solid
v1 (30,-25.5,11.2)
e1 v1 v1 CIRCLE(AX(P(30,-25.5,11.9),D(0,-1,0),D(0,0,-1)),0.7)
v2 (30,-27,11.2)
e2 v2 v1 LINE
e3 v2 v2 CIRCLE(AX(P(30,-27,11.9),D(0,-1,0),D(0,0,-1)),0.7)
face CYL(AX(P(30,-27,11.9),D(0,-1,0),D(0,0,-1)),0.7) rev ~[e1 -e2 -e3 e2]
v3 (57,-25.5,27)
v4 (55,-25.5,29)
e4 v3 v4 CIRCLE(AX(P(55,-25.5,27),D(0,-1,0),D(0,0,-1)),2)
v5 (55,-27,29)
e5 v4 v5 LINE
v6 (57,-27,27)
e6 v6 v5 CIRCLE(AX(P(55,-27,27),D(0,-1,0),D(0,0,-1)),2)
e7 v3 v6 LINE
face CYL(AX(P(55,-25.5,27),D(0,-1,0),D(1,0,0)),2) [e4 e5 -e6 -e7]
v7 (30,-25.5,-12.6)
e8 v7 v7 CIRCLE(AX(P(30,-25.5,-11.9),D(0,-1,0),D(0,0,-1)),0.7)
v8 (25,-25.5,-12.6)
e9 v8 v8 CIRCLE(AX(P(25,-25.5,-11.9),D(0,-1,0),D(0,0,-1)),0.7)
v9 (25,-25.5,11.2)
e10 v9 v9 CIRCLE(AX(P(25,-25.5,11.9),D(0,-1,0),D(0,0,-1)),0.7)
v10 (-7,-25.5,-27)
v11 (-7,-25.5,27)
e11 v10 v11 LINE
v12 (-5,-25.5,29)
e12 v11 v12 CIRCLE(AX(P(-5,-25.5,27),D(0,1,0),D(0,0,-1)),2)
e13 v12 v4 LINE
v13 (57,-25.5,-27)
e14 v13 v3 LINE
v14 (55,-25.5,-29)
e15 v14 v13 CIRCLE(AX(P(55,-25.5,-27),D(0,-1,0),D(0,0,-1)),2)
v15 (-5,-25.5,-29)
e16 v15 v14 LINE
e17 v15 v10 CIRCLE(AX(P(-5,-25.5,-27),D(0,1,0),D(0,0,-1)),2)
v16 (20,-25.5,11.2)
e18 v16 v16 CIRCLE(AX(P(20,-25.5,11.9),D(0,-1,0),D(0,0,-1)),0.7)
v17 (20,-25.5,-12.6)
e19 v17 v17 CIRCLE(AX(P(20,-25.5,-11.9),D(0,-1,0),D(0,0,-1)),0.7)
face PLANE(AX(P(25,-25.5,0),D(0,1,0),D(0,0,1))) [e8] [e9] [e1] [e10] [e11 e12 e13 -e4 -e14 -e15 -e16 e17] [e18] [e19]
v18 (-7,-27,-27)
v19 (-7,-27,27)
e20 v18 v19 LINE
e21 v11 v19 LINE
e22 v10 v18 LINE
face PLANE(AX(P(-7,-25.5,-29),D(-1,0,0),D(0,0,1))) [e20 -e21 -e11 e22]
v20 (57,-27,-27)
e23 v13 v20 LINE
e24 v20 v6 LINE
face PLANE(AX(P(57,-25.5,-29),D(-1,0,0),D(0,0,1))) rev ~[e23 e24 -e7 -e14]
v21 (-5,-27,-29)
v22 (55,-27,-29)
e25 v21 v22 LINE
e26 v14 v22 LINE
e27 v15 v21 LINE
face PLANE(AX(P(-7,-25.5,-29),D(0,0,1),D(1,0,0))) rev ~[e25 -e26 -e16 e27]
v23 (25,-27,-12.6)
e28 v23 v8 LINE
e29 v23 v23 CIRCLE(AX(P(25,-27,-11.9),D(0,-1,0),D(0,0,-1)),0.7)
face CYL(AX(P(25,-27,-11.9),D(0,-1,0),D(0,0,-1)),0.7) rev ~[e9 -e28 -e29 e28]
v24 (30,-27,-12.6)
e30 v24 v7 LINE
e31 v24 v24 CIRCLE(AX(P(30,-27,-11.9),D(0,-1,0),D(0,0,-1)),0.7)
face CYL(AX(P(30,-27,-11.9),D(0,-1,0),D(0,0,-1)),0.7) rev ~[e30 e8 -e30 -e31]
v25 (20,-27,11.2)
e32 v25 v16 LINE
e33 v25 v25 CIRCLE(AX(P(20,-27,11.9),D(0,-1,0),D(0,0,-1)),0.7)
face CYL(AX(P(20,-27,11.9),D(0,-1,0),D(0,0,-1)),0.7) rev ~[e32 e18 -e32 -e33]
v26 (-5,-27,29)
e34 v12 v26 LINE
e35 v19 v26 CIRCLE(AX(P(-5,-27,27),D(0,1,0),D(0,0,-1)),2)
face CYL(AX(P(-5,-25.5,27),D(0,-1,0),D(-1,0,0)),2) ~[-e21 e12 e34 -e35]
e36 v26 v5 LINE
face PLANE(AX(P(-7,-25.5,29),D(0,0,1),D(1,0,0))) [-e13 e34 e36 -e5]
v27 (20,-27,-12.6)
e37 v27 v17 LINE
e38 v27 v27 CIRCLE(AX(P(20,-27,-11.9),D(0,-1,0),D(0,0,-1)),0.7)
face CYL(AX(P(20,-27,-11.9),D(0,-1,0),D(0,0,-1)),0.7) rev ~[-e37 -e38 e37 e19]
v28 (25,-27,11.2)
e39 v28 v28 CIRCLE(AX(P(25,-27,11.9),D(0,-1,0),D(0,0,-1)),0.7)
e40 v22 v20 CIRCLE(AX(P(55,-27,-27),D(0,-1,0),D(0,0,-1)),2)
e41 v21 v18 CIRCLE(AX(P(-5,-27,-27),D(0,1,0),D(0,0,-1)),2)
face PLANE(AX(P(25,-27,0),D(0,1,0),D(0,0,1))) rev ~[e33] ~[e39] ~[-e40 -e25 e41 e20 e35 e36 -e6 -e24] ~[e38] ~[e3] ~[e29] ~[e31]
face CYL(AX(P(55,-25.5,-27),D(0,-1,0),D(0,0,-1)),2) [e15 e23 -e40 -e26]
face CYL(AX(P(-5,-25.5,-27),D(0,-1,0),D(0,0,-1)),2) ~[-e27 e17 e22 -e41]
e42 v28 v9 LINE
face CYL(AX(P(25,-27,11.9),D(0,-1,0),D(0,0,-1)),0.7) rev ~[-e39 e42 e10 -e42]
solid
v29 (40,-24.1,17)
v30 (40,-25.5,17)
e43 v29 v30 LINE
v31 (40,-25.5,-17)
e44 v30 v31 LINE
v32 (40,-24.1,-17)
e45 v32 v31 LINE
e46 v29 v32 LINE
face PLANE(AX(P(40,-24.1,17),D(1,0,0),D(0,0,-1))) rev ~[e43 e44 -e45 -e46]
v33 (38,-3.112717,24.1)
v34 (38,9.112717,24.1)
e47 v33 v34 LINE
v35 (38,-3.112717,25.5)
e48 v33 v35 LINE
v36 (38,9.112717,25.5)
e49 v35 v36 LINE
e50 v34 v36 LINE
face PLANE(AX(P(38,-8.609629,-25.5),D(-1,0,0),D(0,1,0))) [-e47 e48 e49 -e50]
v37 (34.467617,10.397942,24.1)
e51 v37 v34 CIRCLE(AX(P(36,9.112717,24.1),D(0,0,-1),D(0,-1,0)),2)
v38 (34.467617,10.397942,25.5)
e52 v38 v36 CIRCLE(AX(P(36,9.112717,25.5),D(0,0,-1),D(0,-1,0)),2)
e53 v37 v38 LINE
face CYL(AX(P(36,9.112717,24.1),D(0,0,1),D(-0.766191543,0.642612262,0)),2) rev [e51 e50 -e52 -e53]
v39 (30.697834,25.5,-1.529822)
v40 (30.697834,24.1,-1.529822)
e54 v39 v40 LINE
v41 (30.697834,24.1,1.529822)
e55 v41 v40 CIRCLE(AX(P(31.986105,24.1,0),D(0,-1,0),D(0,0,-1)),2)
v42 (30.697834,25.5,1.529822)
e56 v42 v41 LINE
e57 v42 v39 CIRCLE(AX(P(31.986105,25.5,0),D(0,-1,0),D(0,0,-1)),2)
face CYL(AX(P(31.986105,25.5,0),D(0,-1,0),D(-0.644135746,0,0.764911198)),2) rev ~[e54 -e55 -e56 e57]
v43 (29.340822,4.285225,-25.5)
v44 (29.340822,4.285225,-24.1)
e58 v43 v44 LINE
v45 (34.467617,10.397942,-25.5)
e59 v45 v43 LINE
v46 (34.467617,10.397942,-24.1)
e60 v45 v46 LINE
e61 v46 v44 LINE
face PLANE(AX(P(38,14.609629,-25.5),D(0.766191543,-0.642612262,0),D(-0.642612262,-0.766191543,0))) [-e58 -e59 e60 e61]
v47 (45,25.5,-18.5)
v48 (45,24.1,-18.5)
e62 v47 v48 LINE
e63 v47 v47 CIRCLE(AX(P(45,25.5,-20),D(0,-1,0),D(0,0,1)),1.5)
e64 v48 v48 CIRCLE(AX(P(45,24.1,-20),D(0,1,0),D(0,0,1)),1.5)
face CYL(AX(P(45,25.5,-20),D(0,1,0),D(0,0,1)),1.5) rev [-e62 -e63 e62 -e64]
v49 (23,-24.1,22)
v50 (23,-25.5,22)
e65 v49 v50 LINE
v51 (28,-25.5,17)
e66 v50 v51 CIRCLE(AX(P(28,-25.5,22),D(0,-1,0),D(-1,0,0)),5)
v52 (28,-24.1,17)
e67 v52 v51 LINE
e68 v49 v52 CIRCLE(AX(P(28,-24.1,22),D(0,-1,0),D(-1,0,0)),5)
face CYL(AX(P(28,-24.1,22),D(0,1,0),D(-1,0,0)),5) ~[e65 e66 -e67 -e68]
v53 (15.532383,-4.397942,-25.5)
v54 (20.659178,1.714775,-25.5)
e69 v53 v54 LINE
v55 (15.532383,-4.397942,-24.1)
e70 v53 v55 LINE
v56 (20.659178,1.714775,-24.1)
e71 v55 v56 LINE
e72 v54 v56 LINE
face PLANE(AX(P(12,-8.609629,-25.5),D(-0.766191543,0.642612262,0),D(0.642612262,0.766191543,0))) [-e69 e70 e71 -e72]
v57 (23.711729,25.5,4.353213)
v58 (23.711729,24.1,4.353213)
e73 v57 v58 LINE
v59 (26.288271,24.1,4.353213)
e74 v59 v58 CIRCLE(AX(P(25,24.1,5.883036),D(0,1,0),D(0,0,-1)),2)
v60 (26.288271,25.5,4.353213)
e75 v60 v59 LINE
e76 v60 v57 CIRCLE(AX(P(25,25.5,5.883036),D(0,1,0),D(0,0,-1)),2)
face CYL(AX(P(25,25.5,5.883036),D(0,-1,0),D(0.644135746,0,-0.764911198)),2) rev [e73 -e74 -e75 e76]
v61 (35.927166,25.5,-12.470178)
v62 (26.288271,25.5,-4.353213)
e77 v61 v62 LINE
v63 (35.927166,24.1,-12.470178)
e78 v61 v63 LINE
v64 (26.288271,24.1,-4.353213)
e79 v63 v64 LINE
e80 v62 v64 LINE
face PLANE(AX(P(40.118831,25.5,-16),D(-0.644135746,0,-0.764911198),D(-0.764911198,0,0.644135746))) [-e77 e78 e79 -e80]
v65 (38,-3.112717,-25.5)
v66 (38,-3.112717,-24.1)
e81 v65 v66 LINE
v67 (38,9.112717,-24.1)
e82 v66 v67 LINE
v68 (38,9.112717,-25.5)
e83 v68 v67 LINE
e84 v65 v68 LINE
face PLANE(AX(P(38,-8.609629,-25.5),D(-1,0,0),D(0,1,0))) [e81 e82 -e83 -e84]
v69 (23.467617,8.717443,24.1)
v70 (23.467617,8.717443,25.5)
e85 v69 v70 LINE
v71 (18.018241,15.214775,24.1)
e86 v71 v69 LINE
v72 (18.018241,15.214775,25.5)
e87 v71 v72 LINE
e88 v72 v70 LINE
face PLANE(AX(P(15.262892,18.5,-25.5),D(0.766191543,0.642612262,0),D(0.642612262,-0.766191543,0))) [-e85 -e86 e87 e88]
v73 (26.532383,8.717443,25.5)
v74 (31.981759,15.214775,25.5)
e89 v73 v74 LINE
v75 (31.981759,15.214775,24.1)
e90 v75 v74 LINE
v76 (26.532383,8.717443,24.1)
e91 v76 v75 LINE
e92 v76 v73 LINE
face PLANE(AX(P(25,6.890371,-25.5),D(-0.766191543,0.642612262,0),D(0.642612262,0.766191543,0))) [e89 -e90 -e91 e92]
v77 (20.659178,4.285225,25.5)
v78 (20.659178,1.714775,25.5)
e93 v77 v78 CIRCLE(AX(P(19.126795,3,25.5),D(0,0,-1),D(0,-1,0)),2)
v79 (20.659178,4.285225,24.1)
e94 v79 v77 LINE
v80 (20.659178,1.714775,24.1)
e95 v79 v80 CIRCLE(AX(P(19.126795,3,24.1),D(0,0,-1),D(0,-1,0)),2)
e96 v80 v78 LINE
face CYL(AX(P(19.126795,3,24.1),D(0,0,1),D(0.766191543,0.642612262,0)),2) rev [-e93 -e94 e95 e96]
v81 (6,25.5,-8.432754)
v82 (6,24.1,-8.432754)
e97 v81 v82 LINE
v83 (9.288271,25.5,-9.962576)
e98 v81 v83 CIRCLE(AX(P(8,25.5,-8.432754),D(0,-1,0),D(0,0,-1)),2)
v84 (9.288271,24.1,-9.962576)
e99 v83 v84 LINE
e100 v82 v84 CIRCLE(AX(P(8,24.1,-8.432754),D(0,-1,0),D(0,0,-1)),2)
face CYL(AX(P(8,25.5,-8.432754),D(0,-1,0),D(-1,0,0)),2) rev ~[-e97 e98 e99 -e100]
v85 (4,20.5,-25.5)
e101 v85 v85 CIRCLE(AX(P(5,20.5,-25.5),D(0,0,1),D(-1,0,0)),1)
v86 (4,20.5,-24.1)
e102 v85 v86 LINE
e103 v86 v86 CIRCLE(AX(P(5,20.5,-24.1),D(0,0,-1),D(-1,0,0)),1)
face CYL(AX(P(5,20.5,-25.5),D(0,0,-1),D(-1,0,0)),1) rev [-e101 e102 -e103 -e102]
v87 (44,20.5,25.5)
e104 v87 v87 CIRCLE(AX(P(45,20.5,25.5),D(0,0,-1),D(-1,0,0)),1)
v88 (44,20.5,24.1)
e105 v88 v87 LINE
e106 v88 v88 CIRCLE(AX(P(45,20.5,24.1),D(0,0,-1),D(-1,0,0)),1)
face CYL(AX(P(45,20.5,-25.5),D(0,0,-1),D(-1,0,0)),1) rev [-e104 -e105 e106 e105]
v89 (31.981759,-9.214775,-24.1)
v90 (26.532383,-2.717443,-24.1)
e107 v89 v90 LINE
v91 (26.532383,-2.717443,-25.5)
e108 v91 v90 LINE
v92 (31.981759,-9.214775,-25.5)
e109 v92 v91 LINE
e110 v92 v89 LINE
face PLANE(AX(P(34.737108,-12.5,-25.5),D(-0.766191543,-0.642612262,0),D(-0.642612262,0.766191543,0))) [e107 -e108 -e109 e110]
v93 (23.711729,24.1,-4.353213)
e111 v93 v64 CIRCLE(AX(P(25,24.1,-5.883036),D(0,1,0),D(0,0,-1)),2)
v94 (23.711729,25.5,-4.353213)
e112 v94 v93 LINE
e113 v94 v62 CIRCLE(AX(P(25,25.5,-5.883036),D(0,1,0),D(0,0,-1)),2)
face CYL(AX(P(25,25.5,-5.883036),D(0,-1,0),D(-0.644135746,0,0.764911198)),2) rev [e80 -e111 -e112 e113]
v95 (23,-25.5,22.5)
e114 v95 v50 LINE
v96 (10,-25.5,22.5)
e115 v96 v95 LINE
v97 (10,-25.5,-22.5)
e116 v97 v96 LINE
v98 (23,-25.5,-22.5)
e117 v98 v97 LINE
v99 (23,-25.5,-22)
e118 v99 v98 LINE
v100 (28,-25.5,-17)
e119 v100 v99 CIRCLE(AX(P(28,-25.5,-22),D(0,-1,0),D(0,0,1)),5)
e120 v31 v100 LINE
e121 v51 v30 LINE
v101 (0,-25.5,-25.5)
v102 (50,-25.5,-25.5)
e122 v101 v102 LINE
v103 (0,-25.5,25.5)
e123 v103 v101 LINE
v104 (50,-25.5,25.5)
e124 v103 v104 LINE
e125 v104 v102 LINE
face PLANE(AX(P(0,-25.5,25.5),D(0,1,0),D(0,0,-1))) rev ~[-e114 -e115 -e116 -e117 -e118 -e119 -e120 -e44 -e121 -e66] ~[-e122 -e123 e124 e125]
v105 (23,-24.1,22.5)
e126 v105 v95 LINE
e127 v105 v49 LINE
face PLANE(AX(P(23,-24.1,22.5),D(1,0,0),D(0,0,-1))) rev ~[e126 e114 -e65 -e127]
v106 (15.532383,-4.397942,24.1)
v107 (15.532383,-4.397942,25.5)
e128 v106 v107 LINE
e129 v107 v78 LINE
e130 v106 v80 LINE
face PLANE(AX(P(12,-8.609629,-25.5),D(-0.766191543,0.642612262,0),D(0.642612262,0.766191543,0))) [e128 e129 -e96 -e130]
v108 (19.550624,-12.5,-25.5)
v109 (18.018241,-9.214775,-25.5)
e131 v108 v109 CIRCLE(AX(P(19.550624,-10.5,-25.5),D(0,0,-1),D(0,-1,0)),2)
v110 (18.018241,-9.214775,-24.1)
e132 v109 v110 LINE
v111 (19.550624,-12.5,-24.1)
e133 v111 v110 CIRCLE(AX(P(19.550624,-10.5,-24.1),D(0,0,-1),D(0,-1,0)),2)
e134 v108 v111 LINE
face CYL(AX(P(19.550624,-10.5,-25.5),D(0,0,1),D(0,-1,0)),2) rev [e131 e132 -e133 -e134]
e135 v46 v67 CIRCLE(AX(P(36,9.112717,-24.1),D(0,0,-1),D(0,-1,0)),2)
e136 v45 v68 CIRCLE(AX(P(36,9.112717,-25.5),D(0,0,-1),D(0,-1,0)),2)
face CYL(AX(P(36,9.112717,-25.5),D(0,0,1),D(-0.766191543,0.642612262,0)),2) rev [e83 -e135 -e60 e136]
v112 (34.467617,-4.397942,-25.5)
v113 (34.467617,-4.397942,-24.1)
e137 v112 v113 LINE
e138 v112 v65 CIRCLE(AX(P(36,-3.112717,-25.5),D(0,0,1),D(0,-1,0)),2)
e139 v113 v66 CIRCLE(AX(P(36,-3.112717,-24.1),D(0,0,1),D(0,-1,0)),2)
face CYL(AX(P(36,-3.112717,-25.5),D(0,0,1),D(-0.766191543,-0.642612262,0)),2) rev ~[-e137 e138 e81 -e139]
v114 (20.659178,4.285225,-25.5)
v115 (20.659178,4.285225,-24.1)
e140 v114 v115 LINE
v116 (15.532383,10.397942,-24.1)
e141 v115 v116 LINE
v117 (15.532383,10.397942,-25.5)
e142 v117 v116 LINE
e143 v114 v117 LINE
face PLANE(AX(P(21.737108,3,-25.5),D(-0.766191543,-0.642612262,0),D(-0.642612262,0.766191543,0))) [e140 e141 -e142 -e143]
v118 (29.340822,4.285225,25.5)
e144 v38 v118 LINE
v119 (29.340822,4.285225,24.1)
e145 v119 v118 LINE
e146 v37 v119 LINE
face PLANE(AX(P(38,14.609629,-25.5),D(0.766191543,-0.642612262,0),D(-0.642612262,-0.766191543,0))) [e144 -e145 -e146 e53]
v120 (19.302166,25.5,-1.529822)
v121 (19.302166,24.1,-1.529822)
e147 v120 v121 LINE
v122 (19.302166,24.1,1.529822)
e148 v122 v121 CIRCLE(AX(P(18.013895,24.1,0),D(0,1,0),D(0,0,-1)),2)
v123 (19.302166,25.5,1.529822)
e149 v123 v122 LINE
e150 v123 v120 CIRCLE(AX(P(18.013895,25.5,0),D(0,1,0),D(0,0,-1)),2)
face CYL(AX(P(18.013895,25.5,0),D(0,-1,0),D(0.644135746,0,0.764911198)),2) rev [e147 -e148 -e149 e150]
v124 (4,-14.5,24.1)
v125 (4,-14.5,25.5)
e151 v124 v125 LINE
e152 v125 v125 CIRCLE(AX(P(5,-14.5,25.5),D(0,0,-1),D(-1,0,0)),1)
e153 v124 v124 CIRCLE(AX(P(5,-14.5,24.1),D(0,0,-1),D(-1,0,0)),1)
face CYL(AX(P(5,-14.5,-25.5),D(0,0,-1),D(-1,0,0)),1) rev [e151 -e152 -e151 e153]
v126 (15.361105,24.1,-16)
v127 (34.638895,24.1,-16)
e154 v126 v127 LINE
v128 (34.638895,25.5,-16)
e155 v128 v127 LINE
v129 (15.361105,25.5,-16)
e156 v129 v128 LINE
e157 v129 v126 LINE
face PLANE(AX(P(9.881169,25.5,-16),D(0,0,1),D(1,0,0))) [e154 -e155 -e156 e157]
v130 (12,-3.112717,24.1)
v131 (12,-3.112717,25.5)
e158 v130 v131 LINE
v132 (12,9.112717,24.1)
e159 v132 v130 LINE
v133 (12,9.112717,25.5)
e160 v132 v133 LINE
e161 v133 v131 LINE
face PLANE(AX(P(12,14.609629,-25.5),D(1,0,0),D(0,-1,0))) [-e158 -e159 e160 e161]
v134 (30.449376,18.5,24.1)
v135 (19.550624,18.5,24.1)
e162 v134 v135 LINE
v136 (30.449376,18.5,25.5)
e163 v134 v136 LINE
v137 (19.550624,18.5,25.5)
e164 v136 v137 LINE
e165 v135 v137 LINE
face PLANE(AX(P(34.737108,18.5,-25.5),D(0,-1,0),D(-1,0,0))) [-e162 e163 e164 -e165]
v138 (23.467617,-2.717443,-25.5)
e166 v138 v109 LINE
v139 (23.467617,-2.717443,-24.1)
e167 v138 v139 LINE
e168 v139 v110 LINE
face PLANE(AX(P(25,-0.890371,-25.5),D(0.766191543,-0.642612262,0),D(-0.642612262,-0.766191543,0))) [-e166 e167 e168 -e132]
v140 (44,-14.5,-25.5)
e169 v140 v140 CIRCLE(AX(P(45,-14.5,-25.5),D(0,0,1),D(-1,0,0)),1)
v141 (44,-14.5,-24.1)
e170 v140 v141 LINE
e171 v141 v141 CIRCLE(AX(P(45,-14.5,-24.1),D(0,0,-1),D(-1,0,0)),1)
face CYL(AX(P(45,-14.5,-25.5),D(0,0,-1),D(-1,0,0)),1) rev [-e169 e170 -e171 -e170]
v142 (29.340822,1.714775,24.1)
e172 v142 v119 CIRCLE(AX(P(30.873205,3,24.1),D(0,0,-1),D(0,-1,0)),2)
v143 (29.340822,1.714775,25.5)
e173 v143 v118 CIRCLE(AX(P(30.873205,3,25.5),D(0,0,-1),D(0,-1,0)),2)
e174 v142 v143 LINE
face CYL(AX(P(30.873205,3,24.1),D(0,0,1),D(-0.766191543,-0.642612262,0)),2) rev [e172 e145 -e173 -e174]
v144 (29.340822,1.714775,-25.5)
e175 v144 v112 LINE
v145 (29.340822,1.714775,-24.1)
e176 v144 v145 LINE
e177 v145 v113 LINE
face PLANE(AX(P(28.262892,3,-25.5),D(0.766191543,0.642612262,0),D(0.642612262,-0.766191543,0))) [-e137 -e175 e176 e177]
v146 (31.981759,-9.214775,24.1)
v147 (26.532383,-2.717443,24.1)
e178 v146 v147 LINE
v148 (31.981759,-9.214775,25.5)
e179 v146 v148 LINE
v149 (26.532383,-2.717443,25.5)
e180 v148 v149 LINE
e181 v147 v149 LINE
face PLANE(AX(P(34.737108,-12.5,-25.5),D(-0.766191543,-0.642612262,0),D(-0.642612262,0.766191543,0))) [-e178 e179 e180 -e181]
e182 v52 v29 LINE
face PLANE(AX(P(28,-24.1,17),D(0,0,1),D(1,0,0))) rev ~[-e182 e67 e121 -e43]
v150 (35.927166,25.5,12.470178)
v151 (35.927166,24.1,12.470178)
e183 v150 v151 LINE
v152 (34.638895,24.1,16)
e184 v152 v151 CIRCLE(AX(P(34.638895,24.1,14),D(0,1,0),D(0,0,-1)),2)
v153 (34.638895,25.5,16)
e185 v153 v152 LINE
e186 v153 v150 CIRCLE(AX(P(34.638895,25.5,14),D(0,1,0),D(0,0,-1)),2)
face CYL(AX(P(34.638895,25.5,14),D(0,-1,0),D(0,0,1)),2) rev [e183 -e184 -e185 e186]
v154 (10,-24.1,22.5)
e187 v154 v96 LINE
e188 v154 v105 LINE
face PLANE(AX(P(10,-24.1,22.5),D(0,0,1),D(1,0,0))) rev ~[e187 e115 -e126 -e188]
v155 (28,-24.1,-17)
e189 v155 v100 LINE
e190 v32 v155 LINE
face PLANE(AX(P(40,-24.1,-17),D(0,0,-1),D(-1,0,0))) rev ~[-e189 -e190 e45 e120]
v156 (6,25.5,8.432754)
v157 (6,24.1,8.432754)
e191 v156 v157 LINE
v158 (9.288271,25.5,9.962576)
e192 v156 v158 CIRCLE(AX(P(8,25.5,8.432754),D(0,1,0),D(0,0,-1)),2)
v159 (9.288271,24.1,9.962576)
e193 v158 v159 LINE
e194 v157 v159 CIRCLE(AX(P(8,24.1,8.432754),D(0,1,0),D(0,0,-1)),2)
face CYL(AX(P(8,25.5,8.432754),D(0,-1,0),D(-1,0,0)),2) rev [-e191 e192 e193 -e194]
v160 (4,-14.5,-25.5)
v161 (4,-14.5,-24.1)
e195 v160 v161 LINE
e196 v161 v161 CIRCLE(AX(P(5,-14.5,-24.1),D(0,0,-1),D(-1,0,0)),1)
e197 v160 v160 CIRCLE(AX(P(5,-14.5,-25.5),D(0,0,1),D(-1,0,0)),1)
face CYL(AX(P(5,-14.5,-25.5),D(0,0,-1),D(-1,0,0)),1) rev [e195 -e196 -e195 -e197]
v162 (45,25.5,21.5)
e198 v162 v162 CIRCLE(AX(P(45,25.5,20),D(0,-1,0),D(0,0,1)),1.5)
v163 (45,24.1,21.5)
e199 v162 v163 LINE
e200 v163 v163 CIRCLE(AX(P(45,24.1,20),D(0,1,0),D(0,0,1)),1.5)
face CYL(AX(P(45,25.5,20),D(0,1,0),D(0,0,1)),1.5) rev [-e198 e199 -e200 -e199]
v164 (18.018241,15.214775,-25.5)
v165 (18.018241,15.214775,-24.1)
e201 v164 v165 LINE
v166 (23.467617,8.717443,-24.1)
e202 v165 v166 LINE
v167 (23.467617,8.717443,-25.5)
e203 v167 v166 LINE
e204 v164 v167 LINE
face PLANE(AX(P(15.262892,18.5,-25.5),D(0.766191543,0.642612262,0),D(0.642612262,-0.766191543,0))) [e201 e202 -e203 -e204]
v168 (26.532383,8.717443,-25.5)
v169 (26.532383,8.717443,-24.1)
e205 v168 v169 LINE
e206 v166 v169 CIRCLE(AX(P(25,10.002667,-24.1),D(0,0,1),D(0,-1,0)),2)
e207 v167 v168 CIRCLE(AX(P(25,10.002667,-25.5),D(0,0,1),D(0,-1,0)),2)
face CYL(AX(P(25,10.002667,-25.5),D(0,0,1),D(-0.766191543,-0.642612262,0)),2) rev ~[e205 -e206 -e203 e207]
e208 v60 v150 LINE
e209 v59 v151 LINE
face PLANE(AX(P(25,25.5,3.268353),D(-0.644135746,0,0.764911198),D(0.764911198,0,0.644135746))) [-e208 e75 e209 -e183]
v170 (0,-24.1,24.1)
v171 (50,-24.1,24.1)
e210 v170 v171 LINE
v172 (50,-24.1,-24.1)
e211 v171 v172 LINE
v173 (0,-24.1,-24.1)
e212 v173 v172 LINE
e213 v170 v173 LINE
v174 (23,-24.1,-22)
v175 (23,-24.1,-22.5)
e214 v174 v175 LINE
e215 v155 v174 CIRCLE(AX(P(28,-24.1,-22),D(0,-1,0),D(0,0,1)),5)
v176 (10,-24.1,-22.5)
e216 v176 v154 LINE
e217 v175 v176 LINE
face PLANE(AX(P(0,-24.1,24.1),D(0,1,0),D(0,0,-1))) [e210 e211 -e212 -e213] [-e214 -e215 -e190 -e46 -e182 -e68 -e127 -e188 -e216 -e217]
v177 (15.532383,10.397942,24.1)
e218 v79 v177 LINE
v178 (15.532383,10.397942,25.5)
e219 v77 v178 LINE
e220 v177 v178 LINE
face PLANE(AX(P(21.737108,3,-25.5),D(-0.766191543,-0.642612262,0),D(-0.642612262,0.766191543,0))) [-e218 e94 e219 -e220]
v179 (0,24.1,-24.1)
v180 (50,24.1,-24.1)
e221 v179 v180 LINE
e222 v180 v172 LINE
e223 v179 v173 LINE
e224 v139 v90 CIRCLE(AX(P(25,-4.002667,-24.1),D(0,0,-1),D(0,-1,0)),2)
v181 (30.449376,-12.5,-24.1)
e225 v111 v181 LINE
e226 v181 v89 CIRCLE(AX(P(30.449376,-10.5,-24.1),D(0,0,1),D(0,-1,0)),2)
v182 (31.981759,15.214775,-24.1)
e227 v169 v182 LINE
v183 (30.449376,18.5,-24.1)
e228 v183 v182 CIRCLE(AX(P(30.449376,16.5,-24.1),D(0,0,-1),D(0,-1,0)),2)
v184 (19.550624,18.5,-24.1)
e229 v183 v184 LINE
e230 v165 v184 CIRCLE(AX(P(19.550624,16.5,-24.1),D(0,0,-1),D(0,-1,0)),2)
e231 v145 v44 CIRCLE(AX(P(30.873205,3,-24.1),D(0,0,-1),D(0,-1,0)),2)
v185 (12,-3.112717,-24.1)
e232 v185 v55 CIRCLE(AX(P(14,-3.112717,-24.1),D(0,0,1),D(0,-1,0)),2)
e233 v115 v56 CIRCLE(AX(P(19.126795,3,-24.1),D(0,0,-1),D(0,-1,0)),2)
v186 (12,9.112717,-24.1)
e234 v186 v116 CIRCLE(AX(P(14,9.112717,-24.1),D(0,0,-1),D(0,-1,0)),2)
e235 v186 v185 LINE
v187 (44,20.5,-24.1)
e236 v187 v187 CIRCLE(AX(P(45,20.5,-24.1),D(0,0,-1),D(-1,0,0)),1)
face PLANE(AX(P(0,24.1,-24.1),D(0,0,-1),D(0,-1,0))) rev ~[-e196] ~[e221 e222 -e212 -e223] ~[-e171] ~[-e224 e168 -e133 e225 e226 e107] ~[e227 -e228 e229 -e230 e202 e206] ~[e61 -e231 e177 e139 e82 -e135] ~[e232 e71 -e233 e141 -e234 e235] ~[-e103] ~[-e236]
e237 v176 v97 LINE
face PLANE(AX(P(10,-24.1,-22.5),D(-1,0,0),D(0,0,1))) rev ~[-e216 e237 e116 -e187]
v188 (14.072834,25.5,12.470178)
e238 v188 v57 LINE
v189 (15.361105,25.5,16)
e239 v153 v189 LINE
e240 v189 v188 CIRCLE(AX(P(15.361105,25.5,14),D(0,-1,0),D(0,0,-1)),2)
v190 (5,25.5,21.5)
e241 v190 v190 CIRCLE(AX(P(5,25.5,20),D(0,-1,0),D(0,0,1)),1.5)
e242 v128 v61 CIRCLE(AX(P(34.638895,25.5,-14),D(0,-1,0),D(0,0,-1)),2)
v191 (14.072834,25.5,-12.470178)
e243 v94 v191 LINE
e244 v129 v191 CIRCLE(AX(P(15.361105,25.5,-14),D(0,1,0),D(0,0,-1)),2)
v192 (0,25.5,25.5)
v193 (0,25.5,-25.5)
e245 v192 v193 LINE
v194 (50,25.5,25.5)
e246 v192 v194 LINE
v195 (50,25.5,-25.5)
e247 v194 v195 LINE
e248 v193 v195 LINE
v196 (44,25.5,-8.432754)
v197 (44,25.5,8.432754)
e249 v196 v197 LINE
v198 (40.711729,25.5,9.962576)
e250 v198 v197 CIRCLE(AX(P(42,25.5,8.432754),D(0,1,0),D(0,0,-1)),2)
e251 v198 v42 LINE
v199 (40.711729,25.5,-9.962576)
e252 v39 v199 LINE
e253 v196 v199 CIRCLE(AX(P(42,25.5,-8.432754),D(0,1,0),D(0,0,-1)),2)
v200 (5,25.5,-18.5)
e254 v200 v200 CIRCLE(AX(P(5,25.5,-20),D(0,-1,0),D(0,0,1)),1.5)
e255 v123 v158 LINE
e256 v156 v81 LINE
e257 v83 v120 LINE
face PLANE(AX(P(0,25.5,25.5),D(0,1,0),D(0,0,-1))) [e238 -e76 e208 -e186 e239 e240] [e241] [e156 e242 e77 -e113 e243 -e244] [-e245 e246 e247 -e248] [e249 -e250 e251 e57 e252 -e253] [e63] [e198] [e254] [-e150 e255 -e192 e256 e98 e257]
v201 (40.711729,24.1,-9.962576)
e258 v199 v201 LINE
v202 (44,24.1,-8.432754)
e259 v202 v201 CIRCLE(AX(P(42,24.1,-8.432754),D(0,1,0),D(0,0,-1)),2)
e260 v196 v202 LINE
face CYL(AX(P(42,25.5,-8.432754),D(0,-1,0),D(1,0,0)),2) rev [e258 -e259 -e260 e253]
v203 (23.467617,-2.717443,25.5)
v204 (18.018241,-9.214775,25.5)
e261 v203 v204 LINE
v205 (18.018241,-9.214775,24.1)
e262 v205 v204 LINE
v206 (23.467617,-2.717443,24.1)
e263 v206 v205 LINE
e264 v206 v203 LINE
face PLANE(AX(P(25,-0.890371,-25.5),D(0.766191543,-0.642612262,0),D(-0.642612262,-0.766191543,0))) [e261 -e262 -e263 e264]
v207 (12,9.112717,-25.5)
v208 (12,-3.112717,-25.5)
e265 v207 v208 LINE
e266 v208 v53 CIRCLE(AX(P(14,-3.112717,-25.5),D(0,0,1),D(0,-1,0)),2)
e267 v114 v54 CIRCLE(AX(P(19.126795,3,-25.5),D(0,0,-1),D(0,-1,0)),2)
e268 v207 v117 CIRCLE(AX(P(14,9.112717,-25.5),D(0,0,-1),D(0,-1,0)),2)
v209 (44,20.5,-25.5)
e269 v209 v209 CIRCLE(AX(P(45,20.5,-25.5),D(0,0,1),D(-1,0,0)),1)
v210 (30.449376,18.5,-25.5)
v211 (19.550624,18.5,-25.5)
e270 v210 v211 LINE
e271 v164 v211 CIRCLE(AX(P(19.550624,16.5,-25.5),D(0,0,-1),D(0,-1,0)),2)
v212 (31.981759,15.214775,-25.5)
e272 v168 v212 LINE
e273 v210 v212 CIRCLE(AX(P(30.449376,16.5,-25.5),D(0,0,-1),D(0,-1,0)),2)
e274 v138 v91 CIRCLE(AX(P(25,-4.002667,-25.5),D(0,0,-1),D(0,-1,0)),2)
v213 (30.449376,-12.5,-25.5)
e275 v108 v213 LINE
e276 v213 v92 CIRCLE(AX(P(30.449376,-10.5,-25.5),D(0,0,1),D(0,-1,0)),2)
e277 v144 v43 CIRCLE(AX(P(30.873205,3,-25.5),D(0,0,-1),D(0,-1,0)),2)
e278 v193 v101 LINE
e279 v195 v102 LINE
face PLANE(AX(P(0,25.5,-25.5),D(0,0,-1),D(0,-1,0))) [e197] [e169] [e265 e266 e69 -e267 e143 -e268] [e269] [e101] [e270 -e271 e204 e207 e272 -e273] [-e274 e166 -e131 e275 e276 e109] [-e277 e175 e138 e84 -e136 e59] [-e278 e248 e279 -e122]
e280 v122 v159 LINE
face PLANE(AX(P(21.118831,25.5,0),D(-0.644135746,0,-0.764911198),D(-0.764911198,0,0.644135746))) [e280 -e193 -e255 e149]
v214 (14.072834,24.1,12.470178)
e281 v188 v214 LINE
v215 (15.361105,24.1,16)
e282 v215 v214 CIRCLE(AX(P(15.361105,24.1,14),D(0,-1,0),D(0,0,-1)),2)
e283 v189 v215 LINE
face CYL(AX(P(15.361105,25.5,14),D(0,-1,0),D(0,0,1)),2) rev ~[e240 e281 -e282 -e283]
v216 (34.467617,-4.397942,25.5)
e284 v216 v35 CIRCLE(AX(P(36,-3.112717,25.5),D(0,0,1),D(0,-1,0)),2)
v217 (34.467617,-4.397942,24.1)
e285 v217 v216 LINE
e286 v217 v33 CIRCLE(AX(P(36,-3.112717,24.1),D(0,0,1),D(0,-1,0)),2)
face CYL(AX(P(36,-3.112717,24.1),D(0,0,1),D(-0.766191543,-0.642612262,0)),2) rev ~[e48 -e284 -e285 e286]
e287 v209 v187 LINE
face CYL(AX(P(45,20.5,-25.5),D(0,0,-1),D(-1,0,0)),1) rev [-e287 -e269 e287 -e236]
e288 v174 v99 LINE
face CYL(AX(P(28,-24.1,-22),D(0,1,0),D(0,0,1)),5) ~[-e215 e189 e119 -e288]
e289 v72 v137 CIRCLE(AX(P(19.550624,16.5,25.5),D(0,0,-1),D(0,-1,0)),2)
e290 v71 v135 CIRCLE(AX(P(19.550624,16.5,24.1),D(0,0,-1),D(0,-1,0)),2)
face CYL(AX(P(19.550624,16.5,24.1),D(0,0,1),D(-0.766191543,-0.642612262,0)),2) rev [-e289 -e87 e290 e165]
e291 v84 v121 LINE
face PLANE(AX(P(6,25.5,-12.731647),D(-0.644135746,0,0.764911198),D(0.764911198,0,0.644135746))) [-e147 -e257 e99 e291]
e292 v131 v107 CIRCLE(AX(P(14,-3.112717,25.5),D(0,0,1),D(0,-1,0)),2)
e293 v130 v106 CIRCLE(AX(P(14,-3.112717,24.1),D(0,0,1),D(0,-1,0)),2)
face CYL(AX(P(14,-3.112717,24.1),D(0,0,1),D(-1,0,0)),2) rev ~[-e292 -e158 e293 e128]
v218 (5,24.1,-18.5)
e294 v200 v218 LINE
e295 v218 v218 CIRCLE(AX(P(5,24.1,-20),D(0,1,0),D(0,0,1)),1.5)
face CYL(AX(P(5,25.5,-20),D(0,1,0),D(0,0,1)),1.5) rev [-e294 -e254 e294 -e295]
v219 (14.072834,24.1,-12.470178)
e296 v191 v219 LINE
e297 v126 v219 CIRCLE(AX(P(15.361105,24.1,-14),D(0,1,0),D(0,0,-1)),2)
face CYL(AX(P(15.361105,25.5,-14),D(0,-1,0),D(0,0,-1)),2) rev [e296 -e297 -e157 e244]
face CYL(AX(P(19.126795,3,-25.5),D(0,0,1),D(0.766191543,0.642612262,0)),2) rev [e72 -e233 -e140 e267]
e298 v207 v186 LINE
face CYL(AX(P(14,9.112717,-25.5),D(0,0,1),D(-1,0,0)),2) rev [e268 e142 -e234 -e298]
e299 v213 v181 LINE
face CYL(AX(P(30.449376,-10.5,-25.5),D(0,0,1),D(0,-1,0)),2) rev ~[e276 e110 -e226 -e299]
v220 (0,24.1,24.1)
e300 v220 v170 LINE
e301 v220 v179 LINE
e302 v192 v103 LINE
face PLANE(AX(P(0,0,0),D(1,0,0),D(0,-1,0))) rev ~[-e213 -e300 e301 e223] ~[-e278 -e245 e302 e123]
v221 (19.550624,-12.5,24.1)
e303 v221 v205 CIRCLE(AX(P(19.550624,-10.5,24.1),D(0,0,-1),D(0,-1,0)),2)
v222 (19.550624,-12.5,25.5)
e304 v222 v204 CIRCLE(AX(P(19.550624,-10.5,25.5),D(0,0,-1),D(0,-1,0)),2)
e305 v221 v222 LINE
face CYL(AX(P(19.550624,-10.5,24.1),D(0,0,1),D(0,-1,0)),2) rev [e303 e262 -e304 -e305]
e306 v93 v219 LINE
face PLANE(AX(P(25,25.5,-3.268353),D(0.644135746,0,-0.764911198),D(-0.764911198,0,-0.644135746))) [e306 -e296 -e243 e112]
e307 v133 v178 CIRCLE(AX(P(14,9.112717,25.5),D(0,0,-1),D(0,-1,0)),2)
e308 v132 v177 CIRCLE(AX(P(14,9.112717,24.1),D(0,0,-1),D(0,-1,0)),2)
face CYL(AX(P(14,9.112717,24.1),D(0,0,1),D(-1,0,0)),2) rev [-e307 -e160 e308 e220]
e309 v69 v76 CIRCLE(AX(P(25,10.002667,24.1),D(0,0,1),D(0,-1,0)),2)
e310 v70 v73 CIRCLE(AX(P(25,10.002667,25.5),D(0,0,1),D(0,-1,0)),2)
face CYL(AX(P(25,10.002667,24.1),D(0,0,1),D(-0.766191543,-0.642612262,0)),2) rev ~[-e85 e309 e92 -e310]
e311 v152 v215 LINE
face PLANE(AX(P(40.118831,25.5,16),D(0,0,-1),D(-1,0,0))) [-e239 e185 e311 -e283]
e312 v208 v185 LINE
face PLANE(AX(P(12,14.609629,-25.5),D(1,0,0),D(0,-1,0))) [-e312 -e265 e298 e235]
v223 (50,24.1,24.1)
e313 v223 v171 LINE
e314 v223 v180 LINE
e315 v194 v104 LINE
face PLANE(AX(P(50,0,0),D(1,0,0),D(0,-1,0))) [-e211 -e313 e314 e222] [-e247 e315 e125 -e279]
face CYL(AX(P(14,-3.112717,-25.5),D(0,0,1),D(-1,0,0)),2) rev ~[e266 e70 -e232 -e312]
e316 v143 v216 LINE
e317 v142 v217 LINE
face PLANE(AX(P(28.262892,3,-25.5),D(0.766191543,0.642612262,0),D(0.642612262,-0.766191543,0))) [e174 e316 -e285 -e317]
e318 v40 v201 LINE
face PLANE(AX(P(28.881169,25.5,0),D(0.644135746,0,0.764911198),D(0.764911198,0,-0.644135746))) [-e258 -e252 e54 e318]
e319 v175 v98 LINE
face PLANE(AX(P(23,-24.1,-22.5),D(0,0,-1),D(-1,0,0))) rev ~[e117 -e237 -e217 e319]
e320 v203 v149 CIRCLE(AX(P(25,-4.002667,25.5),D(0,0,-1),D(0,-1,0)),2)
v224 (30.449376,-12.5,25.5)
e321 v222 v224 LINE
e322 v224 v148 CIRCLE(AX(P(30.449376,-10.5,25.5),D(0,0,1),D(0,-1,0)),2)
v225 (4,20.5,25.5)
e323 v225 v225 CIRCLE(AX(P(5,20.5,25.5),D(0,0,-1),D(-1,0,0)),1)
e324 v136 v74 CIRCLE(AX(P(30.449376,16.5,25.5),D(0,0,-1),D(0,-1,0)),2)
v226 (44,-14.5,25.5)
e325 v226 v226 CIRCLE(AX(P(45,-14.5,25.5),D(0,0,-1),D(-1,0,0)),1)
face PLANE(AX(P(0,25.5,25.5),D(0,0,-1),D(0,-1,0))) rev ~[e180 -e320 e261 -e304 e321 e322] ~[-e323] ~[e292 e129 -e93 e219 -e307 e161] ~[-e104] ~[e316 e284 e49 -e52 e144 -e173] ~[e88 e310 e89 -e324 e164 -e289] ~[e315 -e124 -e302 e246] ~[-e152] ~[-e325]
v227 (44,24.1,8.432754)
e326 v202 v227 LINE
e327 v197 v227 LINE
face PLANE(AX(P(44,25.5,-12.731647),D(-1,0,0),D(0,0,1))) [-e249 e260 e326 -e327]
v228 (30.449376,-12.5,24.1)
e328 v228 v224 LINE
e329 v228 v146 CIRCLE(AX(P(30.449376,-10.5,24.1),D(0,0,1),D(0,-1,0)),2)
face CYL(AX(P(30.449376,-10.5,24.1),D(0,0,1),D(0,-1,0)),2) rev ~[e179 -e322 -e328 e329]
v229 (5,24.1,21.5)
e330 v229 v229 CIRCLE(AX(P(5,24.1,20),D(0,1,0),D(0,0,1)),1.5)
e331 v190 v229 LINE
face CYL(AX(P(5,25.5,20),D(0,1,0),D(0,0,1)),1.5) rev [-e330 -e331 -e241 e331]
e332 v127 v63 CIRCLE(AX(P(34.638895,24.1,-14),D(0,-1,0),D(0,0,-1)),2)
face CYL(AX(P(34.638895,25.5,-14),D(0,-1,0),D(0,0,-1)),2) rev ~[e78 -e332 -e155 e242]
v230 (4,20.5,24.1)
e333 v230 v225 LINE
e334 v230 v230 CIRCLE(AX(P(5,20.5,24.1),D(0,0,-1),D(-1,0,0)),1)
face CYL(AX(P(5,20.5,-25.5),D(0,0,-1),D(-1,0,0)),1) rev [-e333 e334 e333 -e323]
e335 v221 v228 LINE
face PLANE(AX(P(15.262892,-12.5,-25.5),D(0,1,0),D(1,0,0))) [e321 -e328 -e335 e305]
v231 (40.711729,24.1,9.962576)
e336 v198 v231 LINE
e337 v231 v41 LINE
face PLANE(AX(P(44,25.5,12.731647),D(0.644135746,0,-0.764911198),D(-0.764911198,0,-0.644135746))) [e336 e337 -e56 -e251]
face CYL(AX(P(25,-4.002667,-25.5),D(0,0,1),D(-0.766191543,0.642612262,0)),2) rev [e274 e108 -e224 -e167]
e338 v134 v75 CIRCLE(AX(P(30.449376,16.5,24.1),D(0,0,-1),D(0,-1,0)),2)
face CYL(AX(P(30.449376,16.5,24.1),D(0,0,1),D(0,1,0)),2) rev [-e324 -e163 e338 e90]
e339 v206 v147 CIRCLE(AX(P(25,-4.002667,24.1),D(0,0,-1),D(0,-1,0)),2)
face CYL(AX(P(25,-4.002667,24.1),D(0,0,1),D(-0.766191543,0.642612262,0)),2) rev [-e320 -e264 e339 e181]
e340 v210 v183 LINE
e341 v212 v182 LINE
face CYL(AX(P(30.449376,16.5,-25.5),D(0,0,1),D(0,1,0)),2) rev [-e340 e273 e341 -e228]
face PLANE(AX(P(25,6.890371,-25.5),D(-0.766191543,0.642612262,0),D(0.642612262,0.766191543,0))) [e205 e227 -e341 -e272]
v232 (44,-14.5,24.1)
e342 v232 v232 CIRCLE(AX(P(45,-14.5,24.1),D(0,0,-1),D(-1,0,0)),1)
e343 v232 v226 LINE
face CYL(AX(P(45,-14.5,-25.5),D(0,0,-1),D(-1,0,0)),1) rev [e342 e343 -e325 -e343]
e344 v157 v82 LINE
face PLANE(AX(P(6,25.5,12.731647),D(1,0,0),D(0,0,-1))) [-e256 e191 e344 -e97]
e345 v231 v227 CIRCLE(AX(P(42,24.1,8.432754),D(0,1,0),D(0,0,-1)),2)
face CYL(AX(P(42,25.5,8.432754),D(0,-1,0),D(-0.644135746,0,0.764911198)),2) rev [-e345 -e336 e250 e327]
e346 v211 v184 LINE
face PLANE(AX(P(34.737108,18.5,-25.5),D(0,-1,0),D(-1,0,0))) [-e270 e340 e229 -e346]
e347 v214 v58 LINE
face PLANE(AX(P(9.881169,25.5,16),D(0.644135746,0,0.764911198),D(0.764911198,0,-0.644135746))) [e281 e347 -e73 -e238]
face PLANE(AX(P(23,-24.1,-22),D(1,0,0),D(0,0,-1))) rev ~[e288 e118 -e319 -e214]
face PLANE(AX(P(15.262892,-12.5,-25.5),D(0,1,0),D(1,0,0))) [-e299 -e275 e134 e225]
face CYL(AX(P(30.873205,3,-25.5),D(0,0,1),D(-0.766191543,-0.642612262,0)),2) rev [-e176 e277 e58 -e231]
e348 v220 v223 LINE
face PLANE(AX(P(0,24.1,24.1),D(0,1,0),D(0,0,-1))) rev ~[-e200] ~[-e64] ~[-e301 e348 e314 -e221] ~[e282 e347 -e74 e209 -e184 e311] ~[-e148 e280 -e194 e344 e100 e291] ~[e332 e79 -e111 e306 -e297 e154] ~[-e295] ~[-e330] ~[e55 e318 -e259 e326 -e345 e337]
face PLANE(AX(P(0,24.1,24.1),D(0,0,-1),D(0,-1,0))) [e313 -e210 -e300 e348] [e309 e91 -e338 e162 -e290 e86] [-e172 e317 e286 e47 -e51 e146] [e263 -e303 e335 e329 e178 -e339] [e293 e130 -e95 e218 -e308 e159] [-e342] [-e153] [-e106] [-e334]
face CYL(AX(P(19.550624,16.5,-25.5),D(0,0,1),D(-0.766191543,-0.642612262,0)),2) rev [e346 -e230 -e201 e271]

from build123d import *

# Parameters (mm, degrees)
ESBO_O1_W                = 51
ESBO_O1_H                = 51
ESBO_O1_W_2              = 48.2
ESBO_O1_H_2              = 48.2
RESSALTO_EXTRUS_O1_DEPTH = 50
ESBO_O2_W                = 58
ESBO_O2_H                = 64
RESSALTO_EXTRUS_O2_DEPTH = 1.5
ESBO_O3_R                = 1.5
CORTE_EXTRUS_O1_DEPTH    = 1.5
FILETE1_R                = 2
ESBO_O4_R                = 1
CORTE_EXTRUS_O2_DEPTH    = 84.356163539
FILETE2_R                = 2
CORTE_EXTRUS_O3_START    = 48.2
CORTE_EXTRUS_O3_DEPTH    = 1.4
ESBO_O7_R                = 0.7
CORTE_EXTRUS_O4_DEPTH    = 10
FILETE3_R                = 2


with BuildPart() as part:
    # Esboço1 → Ressalto-extrusão1 (new body)
    with BuildSketch(Plane(origin=(0, 0, 0), x_dir=(0, -1, 0), z_dir=(1, 0, 0))):
        Rectangle(ESBO_O1_W, ESBO_O1_H)
        Rectangle(ESBO_O1_W_2, ESBO_O1_H_2, mode=Mode.SUBTRACT)
    extrude(amount=RESSALTO_EXTRUS_O1_DEPTH)

    # Esboço3 → Corte-extrusão1 (cut)
    with BuildSketch(Plane(origin=(0, 25.5, 0), x_dir=(0, 0, -1), z_dir=(0, -1, 0))):
        Polygon((16, 40.118830516), (3.26835325, 25), (16, 9.881169484), align=None)
        Polygon((0, 28.881169484), (12.73164675, 44), (-12.73164675, 44), align=None)
        Polygon((-16, 9.881169484), (-3.26835325, 25), (-16, 40.118830516), align=None)
        Polygon((12.73164675, 6), (0, 21.118830516), (-12.73164675, 6), align=None)
        with Locations(Location((20, 5, 0), (0, 0, 180))):
            Circle(ESBO_O3_R)
        with Locations(Location((-20, 5, 0), (0, 0, 180))):
            Circle(ESBO_O3_R)
        with Locations(Location((-20, 45, 0), (0, 0, 180))):
            Circle(ESBO_O3_R)
        with Locations(Location((20, 45, 0), (0, 0, 180))):
            Circle(ESBO_O3_R)
    extrude(amount=CORTE_EXTRUS_O1_DEPTH, mode=Mode.SUBTRACT)

    # Filete1
    filete1_edges = [part.edges().sort_by_distance(p)[0] for p in [
        (6, 24.8, -12.73164675),
        (21.118830516, 24.8, 0),
        (6, 24.8, 12.73164675),
        (28.881169484, 24.8, 0),
        (44, 24.8, -12.73164675),
        (44, 24.8, 12.73164675),
        (25, 24.8, 3.26835325),
        (40.118830516, 24.8, 16),
        (9.881169484, 24.8, 16),
        (40.118830516, 24.8, -16),
        (25, 24.8, -3.26835325),
        (9.881169484, 24.8, -16),
    ]]
    fillet(filete1_edges, radius=FILETE1_R)

    # Esboço4 → Corte-extrusão2 (cut, through all)
    with BuildSketch(Plane.XY.offset(-25.5)):
        Polygon((34.737108335, -12.5), (25, -0.890370832), (15.262891665, -12.5), align=None)
        Polygon((12, -8.609629168), (21.737108335, 3), (12, 14.609629168), align=None)
        Polygon((25, 6.890370832), (34.737108335, 18.5), (15.262891665, 18.5), align=None)
        Polygon((38, -8.609629168), (38, 14.609629168), (28.262891665, 3), align=None)
        with Locations(Location((45, -14.5, 0), (0, 0, 180))):
            Circle(ESBO_O4_R)
        with Locations(Location((5, -14.5, 0), (0, 0, 180))):
            Circle(ESBO_O4_R)
        with Locations(Location((5, 20.5, 0), (0, 0, 180))):
            Circle(ESBO_O4_R)
        with Locations(Location((45, 20.5, 0), (0, 0, 180))):
            Circle(ESBO_O4_R)
    extrude(amount=CORTE_EXTRUS_O2_DEPTH, mode=Mode.SUBTRACT)

    # Filete2
    filete2_edges = [part.edges().sort_by_distance(p)[0] for p in [
        (38, 14.609629168, 24.8),
        (28.262891665, 3, 24.8),
        (38, -8.609629168, 24.8),
        (38, 14.609629168, -24.8),
        (28.262891665, 3, -24.8),
        (38, -8.609629168, -24.8),
        (21.737108335, 3, 24.8),
        (12, 14.609629168, 24.8),
        (12, -8.609629168, 24.8),
        (21.737108335, 3, -24.8),
        (12, 14.609629168, -24.8),
        (12, -8.609629168, -24.8),
        (25, 6.890370832, 24.8),
        (34.737108335, 18.5, 24.8),
        (15.262891665, 18.5, 24.8),
        (25, 6.890370832, -24.8),
        (34.737108335, 18.5, -24.8),
        (15.262891665, 18.5, -24.8),
        (34.737108335, -12.5, 24.8),
        (25, -0.890370832, 24.8),
        (15.262891665, -12.5, 24.8),
        (34.737108335, -12.5, -24.8),
        (25, -0.890370832, -24.8),
        (15.262891665, -12.5, -24.8),
    ]]
    fillet(filete2_edges, radius=FILETE2_R)

    # Esboço6 → Corte-extrusão3 (cut)
    with BuildSketch(Plane(origin=(0, 24.1, 0), x_dir=(0, 0, -1), z_dir=(0, -1, 0)).offset(CORTE_EXTRUS_O3_START)):
        with BuildLine():
            Line((-17, 40), (17, 40))
            Line((17, 40), (17, 28))
            ThreePointArc((17, 28), (18.464466094, 24.464466094), (22, 23))
            Line((22, 23), (22.5, 23))
            Line((22.5, 23), (22.5, 10))
            Line((22.5, 10), (-22.5, 10))
            Line((-22.5, 10), (-22.5, 23))
            Line((-22.5, 23), (-22, 23))
            ThreePointArc((-22, 23), (-18.464466094, 24.464466094), (-17, 28))
            Line((-17, 28), (-17, 40))
        make_face()
    extrude(amount=CORTE_EXTRUS_O3_DEPTH, mode=Mode.SUBTRACT)


with BuildPart() as body_2:
    # Esboço2 → Ressalto-extrusão2 (new body)
    with BuildSketch(Plane.ZX.offset(-25.5)):
        with Locations((0, 25)):
            Rectangle(ESBO_O2_W, ESBO_O2_H)
    extrude(amount=-RESSALTO_EXTRUS_O2_DEPTH)

    # Esboço7 → Corte-extrusão4 (cut)
    with BuildSketch(Plane.XZ.offset(27)):
        with Locations(Location((20, 11.9, 0), (0, 0, 270))):
            Circle(ESBO_O7_R)
        with Locations(Location((30, 11.9, 0), (0, 0, 270))):
            Circle(ESBO_O7_R)
        with Locations(Location((30, -11.9, 0), (0, 0, 270))):
            Circle(ESBO_O7_R)
        with Locations(Location((20, -11.9, 0), (0, 0, 270))):
            Circle(ESBO_O7_R)
        with Locations(Location((25, -11.9, 0), (0, 0, 270))):
            Circle(ESBO_O7_R)
        with Locations(Location((25, 11.9, 0), (0, 0, 270))):
            Circle(ESBO_O7_R)
    extrude(amount=-CORTE_EXTRUS_O4_DEPTH, mode=Mode.SUBTRACT)

    # Filete3
    filete3_edges = [body_2.edges().sort_by_distance(p)[0] for p in [
        (57, -26.25, -29),
        (57, -26.25, 29),
        (-7, -26.25, 29),
        (-7, -26.25, -29),
    ]]
    fillet(filete3_edges, radius=FILETE3_R)


solid = Compound([part.part, body_2.part])
